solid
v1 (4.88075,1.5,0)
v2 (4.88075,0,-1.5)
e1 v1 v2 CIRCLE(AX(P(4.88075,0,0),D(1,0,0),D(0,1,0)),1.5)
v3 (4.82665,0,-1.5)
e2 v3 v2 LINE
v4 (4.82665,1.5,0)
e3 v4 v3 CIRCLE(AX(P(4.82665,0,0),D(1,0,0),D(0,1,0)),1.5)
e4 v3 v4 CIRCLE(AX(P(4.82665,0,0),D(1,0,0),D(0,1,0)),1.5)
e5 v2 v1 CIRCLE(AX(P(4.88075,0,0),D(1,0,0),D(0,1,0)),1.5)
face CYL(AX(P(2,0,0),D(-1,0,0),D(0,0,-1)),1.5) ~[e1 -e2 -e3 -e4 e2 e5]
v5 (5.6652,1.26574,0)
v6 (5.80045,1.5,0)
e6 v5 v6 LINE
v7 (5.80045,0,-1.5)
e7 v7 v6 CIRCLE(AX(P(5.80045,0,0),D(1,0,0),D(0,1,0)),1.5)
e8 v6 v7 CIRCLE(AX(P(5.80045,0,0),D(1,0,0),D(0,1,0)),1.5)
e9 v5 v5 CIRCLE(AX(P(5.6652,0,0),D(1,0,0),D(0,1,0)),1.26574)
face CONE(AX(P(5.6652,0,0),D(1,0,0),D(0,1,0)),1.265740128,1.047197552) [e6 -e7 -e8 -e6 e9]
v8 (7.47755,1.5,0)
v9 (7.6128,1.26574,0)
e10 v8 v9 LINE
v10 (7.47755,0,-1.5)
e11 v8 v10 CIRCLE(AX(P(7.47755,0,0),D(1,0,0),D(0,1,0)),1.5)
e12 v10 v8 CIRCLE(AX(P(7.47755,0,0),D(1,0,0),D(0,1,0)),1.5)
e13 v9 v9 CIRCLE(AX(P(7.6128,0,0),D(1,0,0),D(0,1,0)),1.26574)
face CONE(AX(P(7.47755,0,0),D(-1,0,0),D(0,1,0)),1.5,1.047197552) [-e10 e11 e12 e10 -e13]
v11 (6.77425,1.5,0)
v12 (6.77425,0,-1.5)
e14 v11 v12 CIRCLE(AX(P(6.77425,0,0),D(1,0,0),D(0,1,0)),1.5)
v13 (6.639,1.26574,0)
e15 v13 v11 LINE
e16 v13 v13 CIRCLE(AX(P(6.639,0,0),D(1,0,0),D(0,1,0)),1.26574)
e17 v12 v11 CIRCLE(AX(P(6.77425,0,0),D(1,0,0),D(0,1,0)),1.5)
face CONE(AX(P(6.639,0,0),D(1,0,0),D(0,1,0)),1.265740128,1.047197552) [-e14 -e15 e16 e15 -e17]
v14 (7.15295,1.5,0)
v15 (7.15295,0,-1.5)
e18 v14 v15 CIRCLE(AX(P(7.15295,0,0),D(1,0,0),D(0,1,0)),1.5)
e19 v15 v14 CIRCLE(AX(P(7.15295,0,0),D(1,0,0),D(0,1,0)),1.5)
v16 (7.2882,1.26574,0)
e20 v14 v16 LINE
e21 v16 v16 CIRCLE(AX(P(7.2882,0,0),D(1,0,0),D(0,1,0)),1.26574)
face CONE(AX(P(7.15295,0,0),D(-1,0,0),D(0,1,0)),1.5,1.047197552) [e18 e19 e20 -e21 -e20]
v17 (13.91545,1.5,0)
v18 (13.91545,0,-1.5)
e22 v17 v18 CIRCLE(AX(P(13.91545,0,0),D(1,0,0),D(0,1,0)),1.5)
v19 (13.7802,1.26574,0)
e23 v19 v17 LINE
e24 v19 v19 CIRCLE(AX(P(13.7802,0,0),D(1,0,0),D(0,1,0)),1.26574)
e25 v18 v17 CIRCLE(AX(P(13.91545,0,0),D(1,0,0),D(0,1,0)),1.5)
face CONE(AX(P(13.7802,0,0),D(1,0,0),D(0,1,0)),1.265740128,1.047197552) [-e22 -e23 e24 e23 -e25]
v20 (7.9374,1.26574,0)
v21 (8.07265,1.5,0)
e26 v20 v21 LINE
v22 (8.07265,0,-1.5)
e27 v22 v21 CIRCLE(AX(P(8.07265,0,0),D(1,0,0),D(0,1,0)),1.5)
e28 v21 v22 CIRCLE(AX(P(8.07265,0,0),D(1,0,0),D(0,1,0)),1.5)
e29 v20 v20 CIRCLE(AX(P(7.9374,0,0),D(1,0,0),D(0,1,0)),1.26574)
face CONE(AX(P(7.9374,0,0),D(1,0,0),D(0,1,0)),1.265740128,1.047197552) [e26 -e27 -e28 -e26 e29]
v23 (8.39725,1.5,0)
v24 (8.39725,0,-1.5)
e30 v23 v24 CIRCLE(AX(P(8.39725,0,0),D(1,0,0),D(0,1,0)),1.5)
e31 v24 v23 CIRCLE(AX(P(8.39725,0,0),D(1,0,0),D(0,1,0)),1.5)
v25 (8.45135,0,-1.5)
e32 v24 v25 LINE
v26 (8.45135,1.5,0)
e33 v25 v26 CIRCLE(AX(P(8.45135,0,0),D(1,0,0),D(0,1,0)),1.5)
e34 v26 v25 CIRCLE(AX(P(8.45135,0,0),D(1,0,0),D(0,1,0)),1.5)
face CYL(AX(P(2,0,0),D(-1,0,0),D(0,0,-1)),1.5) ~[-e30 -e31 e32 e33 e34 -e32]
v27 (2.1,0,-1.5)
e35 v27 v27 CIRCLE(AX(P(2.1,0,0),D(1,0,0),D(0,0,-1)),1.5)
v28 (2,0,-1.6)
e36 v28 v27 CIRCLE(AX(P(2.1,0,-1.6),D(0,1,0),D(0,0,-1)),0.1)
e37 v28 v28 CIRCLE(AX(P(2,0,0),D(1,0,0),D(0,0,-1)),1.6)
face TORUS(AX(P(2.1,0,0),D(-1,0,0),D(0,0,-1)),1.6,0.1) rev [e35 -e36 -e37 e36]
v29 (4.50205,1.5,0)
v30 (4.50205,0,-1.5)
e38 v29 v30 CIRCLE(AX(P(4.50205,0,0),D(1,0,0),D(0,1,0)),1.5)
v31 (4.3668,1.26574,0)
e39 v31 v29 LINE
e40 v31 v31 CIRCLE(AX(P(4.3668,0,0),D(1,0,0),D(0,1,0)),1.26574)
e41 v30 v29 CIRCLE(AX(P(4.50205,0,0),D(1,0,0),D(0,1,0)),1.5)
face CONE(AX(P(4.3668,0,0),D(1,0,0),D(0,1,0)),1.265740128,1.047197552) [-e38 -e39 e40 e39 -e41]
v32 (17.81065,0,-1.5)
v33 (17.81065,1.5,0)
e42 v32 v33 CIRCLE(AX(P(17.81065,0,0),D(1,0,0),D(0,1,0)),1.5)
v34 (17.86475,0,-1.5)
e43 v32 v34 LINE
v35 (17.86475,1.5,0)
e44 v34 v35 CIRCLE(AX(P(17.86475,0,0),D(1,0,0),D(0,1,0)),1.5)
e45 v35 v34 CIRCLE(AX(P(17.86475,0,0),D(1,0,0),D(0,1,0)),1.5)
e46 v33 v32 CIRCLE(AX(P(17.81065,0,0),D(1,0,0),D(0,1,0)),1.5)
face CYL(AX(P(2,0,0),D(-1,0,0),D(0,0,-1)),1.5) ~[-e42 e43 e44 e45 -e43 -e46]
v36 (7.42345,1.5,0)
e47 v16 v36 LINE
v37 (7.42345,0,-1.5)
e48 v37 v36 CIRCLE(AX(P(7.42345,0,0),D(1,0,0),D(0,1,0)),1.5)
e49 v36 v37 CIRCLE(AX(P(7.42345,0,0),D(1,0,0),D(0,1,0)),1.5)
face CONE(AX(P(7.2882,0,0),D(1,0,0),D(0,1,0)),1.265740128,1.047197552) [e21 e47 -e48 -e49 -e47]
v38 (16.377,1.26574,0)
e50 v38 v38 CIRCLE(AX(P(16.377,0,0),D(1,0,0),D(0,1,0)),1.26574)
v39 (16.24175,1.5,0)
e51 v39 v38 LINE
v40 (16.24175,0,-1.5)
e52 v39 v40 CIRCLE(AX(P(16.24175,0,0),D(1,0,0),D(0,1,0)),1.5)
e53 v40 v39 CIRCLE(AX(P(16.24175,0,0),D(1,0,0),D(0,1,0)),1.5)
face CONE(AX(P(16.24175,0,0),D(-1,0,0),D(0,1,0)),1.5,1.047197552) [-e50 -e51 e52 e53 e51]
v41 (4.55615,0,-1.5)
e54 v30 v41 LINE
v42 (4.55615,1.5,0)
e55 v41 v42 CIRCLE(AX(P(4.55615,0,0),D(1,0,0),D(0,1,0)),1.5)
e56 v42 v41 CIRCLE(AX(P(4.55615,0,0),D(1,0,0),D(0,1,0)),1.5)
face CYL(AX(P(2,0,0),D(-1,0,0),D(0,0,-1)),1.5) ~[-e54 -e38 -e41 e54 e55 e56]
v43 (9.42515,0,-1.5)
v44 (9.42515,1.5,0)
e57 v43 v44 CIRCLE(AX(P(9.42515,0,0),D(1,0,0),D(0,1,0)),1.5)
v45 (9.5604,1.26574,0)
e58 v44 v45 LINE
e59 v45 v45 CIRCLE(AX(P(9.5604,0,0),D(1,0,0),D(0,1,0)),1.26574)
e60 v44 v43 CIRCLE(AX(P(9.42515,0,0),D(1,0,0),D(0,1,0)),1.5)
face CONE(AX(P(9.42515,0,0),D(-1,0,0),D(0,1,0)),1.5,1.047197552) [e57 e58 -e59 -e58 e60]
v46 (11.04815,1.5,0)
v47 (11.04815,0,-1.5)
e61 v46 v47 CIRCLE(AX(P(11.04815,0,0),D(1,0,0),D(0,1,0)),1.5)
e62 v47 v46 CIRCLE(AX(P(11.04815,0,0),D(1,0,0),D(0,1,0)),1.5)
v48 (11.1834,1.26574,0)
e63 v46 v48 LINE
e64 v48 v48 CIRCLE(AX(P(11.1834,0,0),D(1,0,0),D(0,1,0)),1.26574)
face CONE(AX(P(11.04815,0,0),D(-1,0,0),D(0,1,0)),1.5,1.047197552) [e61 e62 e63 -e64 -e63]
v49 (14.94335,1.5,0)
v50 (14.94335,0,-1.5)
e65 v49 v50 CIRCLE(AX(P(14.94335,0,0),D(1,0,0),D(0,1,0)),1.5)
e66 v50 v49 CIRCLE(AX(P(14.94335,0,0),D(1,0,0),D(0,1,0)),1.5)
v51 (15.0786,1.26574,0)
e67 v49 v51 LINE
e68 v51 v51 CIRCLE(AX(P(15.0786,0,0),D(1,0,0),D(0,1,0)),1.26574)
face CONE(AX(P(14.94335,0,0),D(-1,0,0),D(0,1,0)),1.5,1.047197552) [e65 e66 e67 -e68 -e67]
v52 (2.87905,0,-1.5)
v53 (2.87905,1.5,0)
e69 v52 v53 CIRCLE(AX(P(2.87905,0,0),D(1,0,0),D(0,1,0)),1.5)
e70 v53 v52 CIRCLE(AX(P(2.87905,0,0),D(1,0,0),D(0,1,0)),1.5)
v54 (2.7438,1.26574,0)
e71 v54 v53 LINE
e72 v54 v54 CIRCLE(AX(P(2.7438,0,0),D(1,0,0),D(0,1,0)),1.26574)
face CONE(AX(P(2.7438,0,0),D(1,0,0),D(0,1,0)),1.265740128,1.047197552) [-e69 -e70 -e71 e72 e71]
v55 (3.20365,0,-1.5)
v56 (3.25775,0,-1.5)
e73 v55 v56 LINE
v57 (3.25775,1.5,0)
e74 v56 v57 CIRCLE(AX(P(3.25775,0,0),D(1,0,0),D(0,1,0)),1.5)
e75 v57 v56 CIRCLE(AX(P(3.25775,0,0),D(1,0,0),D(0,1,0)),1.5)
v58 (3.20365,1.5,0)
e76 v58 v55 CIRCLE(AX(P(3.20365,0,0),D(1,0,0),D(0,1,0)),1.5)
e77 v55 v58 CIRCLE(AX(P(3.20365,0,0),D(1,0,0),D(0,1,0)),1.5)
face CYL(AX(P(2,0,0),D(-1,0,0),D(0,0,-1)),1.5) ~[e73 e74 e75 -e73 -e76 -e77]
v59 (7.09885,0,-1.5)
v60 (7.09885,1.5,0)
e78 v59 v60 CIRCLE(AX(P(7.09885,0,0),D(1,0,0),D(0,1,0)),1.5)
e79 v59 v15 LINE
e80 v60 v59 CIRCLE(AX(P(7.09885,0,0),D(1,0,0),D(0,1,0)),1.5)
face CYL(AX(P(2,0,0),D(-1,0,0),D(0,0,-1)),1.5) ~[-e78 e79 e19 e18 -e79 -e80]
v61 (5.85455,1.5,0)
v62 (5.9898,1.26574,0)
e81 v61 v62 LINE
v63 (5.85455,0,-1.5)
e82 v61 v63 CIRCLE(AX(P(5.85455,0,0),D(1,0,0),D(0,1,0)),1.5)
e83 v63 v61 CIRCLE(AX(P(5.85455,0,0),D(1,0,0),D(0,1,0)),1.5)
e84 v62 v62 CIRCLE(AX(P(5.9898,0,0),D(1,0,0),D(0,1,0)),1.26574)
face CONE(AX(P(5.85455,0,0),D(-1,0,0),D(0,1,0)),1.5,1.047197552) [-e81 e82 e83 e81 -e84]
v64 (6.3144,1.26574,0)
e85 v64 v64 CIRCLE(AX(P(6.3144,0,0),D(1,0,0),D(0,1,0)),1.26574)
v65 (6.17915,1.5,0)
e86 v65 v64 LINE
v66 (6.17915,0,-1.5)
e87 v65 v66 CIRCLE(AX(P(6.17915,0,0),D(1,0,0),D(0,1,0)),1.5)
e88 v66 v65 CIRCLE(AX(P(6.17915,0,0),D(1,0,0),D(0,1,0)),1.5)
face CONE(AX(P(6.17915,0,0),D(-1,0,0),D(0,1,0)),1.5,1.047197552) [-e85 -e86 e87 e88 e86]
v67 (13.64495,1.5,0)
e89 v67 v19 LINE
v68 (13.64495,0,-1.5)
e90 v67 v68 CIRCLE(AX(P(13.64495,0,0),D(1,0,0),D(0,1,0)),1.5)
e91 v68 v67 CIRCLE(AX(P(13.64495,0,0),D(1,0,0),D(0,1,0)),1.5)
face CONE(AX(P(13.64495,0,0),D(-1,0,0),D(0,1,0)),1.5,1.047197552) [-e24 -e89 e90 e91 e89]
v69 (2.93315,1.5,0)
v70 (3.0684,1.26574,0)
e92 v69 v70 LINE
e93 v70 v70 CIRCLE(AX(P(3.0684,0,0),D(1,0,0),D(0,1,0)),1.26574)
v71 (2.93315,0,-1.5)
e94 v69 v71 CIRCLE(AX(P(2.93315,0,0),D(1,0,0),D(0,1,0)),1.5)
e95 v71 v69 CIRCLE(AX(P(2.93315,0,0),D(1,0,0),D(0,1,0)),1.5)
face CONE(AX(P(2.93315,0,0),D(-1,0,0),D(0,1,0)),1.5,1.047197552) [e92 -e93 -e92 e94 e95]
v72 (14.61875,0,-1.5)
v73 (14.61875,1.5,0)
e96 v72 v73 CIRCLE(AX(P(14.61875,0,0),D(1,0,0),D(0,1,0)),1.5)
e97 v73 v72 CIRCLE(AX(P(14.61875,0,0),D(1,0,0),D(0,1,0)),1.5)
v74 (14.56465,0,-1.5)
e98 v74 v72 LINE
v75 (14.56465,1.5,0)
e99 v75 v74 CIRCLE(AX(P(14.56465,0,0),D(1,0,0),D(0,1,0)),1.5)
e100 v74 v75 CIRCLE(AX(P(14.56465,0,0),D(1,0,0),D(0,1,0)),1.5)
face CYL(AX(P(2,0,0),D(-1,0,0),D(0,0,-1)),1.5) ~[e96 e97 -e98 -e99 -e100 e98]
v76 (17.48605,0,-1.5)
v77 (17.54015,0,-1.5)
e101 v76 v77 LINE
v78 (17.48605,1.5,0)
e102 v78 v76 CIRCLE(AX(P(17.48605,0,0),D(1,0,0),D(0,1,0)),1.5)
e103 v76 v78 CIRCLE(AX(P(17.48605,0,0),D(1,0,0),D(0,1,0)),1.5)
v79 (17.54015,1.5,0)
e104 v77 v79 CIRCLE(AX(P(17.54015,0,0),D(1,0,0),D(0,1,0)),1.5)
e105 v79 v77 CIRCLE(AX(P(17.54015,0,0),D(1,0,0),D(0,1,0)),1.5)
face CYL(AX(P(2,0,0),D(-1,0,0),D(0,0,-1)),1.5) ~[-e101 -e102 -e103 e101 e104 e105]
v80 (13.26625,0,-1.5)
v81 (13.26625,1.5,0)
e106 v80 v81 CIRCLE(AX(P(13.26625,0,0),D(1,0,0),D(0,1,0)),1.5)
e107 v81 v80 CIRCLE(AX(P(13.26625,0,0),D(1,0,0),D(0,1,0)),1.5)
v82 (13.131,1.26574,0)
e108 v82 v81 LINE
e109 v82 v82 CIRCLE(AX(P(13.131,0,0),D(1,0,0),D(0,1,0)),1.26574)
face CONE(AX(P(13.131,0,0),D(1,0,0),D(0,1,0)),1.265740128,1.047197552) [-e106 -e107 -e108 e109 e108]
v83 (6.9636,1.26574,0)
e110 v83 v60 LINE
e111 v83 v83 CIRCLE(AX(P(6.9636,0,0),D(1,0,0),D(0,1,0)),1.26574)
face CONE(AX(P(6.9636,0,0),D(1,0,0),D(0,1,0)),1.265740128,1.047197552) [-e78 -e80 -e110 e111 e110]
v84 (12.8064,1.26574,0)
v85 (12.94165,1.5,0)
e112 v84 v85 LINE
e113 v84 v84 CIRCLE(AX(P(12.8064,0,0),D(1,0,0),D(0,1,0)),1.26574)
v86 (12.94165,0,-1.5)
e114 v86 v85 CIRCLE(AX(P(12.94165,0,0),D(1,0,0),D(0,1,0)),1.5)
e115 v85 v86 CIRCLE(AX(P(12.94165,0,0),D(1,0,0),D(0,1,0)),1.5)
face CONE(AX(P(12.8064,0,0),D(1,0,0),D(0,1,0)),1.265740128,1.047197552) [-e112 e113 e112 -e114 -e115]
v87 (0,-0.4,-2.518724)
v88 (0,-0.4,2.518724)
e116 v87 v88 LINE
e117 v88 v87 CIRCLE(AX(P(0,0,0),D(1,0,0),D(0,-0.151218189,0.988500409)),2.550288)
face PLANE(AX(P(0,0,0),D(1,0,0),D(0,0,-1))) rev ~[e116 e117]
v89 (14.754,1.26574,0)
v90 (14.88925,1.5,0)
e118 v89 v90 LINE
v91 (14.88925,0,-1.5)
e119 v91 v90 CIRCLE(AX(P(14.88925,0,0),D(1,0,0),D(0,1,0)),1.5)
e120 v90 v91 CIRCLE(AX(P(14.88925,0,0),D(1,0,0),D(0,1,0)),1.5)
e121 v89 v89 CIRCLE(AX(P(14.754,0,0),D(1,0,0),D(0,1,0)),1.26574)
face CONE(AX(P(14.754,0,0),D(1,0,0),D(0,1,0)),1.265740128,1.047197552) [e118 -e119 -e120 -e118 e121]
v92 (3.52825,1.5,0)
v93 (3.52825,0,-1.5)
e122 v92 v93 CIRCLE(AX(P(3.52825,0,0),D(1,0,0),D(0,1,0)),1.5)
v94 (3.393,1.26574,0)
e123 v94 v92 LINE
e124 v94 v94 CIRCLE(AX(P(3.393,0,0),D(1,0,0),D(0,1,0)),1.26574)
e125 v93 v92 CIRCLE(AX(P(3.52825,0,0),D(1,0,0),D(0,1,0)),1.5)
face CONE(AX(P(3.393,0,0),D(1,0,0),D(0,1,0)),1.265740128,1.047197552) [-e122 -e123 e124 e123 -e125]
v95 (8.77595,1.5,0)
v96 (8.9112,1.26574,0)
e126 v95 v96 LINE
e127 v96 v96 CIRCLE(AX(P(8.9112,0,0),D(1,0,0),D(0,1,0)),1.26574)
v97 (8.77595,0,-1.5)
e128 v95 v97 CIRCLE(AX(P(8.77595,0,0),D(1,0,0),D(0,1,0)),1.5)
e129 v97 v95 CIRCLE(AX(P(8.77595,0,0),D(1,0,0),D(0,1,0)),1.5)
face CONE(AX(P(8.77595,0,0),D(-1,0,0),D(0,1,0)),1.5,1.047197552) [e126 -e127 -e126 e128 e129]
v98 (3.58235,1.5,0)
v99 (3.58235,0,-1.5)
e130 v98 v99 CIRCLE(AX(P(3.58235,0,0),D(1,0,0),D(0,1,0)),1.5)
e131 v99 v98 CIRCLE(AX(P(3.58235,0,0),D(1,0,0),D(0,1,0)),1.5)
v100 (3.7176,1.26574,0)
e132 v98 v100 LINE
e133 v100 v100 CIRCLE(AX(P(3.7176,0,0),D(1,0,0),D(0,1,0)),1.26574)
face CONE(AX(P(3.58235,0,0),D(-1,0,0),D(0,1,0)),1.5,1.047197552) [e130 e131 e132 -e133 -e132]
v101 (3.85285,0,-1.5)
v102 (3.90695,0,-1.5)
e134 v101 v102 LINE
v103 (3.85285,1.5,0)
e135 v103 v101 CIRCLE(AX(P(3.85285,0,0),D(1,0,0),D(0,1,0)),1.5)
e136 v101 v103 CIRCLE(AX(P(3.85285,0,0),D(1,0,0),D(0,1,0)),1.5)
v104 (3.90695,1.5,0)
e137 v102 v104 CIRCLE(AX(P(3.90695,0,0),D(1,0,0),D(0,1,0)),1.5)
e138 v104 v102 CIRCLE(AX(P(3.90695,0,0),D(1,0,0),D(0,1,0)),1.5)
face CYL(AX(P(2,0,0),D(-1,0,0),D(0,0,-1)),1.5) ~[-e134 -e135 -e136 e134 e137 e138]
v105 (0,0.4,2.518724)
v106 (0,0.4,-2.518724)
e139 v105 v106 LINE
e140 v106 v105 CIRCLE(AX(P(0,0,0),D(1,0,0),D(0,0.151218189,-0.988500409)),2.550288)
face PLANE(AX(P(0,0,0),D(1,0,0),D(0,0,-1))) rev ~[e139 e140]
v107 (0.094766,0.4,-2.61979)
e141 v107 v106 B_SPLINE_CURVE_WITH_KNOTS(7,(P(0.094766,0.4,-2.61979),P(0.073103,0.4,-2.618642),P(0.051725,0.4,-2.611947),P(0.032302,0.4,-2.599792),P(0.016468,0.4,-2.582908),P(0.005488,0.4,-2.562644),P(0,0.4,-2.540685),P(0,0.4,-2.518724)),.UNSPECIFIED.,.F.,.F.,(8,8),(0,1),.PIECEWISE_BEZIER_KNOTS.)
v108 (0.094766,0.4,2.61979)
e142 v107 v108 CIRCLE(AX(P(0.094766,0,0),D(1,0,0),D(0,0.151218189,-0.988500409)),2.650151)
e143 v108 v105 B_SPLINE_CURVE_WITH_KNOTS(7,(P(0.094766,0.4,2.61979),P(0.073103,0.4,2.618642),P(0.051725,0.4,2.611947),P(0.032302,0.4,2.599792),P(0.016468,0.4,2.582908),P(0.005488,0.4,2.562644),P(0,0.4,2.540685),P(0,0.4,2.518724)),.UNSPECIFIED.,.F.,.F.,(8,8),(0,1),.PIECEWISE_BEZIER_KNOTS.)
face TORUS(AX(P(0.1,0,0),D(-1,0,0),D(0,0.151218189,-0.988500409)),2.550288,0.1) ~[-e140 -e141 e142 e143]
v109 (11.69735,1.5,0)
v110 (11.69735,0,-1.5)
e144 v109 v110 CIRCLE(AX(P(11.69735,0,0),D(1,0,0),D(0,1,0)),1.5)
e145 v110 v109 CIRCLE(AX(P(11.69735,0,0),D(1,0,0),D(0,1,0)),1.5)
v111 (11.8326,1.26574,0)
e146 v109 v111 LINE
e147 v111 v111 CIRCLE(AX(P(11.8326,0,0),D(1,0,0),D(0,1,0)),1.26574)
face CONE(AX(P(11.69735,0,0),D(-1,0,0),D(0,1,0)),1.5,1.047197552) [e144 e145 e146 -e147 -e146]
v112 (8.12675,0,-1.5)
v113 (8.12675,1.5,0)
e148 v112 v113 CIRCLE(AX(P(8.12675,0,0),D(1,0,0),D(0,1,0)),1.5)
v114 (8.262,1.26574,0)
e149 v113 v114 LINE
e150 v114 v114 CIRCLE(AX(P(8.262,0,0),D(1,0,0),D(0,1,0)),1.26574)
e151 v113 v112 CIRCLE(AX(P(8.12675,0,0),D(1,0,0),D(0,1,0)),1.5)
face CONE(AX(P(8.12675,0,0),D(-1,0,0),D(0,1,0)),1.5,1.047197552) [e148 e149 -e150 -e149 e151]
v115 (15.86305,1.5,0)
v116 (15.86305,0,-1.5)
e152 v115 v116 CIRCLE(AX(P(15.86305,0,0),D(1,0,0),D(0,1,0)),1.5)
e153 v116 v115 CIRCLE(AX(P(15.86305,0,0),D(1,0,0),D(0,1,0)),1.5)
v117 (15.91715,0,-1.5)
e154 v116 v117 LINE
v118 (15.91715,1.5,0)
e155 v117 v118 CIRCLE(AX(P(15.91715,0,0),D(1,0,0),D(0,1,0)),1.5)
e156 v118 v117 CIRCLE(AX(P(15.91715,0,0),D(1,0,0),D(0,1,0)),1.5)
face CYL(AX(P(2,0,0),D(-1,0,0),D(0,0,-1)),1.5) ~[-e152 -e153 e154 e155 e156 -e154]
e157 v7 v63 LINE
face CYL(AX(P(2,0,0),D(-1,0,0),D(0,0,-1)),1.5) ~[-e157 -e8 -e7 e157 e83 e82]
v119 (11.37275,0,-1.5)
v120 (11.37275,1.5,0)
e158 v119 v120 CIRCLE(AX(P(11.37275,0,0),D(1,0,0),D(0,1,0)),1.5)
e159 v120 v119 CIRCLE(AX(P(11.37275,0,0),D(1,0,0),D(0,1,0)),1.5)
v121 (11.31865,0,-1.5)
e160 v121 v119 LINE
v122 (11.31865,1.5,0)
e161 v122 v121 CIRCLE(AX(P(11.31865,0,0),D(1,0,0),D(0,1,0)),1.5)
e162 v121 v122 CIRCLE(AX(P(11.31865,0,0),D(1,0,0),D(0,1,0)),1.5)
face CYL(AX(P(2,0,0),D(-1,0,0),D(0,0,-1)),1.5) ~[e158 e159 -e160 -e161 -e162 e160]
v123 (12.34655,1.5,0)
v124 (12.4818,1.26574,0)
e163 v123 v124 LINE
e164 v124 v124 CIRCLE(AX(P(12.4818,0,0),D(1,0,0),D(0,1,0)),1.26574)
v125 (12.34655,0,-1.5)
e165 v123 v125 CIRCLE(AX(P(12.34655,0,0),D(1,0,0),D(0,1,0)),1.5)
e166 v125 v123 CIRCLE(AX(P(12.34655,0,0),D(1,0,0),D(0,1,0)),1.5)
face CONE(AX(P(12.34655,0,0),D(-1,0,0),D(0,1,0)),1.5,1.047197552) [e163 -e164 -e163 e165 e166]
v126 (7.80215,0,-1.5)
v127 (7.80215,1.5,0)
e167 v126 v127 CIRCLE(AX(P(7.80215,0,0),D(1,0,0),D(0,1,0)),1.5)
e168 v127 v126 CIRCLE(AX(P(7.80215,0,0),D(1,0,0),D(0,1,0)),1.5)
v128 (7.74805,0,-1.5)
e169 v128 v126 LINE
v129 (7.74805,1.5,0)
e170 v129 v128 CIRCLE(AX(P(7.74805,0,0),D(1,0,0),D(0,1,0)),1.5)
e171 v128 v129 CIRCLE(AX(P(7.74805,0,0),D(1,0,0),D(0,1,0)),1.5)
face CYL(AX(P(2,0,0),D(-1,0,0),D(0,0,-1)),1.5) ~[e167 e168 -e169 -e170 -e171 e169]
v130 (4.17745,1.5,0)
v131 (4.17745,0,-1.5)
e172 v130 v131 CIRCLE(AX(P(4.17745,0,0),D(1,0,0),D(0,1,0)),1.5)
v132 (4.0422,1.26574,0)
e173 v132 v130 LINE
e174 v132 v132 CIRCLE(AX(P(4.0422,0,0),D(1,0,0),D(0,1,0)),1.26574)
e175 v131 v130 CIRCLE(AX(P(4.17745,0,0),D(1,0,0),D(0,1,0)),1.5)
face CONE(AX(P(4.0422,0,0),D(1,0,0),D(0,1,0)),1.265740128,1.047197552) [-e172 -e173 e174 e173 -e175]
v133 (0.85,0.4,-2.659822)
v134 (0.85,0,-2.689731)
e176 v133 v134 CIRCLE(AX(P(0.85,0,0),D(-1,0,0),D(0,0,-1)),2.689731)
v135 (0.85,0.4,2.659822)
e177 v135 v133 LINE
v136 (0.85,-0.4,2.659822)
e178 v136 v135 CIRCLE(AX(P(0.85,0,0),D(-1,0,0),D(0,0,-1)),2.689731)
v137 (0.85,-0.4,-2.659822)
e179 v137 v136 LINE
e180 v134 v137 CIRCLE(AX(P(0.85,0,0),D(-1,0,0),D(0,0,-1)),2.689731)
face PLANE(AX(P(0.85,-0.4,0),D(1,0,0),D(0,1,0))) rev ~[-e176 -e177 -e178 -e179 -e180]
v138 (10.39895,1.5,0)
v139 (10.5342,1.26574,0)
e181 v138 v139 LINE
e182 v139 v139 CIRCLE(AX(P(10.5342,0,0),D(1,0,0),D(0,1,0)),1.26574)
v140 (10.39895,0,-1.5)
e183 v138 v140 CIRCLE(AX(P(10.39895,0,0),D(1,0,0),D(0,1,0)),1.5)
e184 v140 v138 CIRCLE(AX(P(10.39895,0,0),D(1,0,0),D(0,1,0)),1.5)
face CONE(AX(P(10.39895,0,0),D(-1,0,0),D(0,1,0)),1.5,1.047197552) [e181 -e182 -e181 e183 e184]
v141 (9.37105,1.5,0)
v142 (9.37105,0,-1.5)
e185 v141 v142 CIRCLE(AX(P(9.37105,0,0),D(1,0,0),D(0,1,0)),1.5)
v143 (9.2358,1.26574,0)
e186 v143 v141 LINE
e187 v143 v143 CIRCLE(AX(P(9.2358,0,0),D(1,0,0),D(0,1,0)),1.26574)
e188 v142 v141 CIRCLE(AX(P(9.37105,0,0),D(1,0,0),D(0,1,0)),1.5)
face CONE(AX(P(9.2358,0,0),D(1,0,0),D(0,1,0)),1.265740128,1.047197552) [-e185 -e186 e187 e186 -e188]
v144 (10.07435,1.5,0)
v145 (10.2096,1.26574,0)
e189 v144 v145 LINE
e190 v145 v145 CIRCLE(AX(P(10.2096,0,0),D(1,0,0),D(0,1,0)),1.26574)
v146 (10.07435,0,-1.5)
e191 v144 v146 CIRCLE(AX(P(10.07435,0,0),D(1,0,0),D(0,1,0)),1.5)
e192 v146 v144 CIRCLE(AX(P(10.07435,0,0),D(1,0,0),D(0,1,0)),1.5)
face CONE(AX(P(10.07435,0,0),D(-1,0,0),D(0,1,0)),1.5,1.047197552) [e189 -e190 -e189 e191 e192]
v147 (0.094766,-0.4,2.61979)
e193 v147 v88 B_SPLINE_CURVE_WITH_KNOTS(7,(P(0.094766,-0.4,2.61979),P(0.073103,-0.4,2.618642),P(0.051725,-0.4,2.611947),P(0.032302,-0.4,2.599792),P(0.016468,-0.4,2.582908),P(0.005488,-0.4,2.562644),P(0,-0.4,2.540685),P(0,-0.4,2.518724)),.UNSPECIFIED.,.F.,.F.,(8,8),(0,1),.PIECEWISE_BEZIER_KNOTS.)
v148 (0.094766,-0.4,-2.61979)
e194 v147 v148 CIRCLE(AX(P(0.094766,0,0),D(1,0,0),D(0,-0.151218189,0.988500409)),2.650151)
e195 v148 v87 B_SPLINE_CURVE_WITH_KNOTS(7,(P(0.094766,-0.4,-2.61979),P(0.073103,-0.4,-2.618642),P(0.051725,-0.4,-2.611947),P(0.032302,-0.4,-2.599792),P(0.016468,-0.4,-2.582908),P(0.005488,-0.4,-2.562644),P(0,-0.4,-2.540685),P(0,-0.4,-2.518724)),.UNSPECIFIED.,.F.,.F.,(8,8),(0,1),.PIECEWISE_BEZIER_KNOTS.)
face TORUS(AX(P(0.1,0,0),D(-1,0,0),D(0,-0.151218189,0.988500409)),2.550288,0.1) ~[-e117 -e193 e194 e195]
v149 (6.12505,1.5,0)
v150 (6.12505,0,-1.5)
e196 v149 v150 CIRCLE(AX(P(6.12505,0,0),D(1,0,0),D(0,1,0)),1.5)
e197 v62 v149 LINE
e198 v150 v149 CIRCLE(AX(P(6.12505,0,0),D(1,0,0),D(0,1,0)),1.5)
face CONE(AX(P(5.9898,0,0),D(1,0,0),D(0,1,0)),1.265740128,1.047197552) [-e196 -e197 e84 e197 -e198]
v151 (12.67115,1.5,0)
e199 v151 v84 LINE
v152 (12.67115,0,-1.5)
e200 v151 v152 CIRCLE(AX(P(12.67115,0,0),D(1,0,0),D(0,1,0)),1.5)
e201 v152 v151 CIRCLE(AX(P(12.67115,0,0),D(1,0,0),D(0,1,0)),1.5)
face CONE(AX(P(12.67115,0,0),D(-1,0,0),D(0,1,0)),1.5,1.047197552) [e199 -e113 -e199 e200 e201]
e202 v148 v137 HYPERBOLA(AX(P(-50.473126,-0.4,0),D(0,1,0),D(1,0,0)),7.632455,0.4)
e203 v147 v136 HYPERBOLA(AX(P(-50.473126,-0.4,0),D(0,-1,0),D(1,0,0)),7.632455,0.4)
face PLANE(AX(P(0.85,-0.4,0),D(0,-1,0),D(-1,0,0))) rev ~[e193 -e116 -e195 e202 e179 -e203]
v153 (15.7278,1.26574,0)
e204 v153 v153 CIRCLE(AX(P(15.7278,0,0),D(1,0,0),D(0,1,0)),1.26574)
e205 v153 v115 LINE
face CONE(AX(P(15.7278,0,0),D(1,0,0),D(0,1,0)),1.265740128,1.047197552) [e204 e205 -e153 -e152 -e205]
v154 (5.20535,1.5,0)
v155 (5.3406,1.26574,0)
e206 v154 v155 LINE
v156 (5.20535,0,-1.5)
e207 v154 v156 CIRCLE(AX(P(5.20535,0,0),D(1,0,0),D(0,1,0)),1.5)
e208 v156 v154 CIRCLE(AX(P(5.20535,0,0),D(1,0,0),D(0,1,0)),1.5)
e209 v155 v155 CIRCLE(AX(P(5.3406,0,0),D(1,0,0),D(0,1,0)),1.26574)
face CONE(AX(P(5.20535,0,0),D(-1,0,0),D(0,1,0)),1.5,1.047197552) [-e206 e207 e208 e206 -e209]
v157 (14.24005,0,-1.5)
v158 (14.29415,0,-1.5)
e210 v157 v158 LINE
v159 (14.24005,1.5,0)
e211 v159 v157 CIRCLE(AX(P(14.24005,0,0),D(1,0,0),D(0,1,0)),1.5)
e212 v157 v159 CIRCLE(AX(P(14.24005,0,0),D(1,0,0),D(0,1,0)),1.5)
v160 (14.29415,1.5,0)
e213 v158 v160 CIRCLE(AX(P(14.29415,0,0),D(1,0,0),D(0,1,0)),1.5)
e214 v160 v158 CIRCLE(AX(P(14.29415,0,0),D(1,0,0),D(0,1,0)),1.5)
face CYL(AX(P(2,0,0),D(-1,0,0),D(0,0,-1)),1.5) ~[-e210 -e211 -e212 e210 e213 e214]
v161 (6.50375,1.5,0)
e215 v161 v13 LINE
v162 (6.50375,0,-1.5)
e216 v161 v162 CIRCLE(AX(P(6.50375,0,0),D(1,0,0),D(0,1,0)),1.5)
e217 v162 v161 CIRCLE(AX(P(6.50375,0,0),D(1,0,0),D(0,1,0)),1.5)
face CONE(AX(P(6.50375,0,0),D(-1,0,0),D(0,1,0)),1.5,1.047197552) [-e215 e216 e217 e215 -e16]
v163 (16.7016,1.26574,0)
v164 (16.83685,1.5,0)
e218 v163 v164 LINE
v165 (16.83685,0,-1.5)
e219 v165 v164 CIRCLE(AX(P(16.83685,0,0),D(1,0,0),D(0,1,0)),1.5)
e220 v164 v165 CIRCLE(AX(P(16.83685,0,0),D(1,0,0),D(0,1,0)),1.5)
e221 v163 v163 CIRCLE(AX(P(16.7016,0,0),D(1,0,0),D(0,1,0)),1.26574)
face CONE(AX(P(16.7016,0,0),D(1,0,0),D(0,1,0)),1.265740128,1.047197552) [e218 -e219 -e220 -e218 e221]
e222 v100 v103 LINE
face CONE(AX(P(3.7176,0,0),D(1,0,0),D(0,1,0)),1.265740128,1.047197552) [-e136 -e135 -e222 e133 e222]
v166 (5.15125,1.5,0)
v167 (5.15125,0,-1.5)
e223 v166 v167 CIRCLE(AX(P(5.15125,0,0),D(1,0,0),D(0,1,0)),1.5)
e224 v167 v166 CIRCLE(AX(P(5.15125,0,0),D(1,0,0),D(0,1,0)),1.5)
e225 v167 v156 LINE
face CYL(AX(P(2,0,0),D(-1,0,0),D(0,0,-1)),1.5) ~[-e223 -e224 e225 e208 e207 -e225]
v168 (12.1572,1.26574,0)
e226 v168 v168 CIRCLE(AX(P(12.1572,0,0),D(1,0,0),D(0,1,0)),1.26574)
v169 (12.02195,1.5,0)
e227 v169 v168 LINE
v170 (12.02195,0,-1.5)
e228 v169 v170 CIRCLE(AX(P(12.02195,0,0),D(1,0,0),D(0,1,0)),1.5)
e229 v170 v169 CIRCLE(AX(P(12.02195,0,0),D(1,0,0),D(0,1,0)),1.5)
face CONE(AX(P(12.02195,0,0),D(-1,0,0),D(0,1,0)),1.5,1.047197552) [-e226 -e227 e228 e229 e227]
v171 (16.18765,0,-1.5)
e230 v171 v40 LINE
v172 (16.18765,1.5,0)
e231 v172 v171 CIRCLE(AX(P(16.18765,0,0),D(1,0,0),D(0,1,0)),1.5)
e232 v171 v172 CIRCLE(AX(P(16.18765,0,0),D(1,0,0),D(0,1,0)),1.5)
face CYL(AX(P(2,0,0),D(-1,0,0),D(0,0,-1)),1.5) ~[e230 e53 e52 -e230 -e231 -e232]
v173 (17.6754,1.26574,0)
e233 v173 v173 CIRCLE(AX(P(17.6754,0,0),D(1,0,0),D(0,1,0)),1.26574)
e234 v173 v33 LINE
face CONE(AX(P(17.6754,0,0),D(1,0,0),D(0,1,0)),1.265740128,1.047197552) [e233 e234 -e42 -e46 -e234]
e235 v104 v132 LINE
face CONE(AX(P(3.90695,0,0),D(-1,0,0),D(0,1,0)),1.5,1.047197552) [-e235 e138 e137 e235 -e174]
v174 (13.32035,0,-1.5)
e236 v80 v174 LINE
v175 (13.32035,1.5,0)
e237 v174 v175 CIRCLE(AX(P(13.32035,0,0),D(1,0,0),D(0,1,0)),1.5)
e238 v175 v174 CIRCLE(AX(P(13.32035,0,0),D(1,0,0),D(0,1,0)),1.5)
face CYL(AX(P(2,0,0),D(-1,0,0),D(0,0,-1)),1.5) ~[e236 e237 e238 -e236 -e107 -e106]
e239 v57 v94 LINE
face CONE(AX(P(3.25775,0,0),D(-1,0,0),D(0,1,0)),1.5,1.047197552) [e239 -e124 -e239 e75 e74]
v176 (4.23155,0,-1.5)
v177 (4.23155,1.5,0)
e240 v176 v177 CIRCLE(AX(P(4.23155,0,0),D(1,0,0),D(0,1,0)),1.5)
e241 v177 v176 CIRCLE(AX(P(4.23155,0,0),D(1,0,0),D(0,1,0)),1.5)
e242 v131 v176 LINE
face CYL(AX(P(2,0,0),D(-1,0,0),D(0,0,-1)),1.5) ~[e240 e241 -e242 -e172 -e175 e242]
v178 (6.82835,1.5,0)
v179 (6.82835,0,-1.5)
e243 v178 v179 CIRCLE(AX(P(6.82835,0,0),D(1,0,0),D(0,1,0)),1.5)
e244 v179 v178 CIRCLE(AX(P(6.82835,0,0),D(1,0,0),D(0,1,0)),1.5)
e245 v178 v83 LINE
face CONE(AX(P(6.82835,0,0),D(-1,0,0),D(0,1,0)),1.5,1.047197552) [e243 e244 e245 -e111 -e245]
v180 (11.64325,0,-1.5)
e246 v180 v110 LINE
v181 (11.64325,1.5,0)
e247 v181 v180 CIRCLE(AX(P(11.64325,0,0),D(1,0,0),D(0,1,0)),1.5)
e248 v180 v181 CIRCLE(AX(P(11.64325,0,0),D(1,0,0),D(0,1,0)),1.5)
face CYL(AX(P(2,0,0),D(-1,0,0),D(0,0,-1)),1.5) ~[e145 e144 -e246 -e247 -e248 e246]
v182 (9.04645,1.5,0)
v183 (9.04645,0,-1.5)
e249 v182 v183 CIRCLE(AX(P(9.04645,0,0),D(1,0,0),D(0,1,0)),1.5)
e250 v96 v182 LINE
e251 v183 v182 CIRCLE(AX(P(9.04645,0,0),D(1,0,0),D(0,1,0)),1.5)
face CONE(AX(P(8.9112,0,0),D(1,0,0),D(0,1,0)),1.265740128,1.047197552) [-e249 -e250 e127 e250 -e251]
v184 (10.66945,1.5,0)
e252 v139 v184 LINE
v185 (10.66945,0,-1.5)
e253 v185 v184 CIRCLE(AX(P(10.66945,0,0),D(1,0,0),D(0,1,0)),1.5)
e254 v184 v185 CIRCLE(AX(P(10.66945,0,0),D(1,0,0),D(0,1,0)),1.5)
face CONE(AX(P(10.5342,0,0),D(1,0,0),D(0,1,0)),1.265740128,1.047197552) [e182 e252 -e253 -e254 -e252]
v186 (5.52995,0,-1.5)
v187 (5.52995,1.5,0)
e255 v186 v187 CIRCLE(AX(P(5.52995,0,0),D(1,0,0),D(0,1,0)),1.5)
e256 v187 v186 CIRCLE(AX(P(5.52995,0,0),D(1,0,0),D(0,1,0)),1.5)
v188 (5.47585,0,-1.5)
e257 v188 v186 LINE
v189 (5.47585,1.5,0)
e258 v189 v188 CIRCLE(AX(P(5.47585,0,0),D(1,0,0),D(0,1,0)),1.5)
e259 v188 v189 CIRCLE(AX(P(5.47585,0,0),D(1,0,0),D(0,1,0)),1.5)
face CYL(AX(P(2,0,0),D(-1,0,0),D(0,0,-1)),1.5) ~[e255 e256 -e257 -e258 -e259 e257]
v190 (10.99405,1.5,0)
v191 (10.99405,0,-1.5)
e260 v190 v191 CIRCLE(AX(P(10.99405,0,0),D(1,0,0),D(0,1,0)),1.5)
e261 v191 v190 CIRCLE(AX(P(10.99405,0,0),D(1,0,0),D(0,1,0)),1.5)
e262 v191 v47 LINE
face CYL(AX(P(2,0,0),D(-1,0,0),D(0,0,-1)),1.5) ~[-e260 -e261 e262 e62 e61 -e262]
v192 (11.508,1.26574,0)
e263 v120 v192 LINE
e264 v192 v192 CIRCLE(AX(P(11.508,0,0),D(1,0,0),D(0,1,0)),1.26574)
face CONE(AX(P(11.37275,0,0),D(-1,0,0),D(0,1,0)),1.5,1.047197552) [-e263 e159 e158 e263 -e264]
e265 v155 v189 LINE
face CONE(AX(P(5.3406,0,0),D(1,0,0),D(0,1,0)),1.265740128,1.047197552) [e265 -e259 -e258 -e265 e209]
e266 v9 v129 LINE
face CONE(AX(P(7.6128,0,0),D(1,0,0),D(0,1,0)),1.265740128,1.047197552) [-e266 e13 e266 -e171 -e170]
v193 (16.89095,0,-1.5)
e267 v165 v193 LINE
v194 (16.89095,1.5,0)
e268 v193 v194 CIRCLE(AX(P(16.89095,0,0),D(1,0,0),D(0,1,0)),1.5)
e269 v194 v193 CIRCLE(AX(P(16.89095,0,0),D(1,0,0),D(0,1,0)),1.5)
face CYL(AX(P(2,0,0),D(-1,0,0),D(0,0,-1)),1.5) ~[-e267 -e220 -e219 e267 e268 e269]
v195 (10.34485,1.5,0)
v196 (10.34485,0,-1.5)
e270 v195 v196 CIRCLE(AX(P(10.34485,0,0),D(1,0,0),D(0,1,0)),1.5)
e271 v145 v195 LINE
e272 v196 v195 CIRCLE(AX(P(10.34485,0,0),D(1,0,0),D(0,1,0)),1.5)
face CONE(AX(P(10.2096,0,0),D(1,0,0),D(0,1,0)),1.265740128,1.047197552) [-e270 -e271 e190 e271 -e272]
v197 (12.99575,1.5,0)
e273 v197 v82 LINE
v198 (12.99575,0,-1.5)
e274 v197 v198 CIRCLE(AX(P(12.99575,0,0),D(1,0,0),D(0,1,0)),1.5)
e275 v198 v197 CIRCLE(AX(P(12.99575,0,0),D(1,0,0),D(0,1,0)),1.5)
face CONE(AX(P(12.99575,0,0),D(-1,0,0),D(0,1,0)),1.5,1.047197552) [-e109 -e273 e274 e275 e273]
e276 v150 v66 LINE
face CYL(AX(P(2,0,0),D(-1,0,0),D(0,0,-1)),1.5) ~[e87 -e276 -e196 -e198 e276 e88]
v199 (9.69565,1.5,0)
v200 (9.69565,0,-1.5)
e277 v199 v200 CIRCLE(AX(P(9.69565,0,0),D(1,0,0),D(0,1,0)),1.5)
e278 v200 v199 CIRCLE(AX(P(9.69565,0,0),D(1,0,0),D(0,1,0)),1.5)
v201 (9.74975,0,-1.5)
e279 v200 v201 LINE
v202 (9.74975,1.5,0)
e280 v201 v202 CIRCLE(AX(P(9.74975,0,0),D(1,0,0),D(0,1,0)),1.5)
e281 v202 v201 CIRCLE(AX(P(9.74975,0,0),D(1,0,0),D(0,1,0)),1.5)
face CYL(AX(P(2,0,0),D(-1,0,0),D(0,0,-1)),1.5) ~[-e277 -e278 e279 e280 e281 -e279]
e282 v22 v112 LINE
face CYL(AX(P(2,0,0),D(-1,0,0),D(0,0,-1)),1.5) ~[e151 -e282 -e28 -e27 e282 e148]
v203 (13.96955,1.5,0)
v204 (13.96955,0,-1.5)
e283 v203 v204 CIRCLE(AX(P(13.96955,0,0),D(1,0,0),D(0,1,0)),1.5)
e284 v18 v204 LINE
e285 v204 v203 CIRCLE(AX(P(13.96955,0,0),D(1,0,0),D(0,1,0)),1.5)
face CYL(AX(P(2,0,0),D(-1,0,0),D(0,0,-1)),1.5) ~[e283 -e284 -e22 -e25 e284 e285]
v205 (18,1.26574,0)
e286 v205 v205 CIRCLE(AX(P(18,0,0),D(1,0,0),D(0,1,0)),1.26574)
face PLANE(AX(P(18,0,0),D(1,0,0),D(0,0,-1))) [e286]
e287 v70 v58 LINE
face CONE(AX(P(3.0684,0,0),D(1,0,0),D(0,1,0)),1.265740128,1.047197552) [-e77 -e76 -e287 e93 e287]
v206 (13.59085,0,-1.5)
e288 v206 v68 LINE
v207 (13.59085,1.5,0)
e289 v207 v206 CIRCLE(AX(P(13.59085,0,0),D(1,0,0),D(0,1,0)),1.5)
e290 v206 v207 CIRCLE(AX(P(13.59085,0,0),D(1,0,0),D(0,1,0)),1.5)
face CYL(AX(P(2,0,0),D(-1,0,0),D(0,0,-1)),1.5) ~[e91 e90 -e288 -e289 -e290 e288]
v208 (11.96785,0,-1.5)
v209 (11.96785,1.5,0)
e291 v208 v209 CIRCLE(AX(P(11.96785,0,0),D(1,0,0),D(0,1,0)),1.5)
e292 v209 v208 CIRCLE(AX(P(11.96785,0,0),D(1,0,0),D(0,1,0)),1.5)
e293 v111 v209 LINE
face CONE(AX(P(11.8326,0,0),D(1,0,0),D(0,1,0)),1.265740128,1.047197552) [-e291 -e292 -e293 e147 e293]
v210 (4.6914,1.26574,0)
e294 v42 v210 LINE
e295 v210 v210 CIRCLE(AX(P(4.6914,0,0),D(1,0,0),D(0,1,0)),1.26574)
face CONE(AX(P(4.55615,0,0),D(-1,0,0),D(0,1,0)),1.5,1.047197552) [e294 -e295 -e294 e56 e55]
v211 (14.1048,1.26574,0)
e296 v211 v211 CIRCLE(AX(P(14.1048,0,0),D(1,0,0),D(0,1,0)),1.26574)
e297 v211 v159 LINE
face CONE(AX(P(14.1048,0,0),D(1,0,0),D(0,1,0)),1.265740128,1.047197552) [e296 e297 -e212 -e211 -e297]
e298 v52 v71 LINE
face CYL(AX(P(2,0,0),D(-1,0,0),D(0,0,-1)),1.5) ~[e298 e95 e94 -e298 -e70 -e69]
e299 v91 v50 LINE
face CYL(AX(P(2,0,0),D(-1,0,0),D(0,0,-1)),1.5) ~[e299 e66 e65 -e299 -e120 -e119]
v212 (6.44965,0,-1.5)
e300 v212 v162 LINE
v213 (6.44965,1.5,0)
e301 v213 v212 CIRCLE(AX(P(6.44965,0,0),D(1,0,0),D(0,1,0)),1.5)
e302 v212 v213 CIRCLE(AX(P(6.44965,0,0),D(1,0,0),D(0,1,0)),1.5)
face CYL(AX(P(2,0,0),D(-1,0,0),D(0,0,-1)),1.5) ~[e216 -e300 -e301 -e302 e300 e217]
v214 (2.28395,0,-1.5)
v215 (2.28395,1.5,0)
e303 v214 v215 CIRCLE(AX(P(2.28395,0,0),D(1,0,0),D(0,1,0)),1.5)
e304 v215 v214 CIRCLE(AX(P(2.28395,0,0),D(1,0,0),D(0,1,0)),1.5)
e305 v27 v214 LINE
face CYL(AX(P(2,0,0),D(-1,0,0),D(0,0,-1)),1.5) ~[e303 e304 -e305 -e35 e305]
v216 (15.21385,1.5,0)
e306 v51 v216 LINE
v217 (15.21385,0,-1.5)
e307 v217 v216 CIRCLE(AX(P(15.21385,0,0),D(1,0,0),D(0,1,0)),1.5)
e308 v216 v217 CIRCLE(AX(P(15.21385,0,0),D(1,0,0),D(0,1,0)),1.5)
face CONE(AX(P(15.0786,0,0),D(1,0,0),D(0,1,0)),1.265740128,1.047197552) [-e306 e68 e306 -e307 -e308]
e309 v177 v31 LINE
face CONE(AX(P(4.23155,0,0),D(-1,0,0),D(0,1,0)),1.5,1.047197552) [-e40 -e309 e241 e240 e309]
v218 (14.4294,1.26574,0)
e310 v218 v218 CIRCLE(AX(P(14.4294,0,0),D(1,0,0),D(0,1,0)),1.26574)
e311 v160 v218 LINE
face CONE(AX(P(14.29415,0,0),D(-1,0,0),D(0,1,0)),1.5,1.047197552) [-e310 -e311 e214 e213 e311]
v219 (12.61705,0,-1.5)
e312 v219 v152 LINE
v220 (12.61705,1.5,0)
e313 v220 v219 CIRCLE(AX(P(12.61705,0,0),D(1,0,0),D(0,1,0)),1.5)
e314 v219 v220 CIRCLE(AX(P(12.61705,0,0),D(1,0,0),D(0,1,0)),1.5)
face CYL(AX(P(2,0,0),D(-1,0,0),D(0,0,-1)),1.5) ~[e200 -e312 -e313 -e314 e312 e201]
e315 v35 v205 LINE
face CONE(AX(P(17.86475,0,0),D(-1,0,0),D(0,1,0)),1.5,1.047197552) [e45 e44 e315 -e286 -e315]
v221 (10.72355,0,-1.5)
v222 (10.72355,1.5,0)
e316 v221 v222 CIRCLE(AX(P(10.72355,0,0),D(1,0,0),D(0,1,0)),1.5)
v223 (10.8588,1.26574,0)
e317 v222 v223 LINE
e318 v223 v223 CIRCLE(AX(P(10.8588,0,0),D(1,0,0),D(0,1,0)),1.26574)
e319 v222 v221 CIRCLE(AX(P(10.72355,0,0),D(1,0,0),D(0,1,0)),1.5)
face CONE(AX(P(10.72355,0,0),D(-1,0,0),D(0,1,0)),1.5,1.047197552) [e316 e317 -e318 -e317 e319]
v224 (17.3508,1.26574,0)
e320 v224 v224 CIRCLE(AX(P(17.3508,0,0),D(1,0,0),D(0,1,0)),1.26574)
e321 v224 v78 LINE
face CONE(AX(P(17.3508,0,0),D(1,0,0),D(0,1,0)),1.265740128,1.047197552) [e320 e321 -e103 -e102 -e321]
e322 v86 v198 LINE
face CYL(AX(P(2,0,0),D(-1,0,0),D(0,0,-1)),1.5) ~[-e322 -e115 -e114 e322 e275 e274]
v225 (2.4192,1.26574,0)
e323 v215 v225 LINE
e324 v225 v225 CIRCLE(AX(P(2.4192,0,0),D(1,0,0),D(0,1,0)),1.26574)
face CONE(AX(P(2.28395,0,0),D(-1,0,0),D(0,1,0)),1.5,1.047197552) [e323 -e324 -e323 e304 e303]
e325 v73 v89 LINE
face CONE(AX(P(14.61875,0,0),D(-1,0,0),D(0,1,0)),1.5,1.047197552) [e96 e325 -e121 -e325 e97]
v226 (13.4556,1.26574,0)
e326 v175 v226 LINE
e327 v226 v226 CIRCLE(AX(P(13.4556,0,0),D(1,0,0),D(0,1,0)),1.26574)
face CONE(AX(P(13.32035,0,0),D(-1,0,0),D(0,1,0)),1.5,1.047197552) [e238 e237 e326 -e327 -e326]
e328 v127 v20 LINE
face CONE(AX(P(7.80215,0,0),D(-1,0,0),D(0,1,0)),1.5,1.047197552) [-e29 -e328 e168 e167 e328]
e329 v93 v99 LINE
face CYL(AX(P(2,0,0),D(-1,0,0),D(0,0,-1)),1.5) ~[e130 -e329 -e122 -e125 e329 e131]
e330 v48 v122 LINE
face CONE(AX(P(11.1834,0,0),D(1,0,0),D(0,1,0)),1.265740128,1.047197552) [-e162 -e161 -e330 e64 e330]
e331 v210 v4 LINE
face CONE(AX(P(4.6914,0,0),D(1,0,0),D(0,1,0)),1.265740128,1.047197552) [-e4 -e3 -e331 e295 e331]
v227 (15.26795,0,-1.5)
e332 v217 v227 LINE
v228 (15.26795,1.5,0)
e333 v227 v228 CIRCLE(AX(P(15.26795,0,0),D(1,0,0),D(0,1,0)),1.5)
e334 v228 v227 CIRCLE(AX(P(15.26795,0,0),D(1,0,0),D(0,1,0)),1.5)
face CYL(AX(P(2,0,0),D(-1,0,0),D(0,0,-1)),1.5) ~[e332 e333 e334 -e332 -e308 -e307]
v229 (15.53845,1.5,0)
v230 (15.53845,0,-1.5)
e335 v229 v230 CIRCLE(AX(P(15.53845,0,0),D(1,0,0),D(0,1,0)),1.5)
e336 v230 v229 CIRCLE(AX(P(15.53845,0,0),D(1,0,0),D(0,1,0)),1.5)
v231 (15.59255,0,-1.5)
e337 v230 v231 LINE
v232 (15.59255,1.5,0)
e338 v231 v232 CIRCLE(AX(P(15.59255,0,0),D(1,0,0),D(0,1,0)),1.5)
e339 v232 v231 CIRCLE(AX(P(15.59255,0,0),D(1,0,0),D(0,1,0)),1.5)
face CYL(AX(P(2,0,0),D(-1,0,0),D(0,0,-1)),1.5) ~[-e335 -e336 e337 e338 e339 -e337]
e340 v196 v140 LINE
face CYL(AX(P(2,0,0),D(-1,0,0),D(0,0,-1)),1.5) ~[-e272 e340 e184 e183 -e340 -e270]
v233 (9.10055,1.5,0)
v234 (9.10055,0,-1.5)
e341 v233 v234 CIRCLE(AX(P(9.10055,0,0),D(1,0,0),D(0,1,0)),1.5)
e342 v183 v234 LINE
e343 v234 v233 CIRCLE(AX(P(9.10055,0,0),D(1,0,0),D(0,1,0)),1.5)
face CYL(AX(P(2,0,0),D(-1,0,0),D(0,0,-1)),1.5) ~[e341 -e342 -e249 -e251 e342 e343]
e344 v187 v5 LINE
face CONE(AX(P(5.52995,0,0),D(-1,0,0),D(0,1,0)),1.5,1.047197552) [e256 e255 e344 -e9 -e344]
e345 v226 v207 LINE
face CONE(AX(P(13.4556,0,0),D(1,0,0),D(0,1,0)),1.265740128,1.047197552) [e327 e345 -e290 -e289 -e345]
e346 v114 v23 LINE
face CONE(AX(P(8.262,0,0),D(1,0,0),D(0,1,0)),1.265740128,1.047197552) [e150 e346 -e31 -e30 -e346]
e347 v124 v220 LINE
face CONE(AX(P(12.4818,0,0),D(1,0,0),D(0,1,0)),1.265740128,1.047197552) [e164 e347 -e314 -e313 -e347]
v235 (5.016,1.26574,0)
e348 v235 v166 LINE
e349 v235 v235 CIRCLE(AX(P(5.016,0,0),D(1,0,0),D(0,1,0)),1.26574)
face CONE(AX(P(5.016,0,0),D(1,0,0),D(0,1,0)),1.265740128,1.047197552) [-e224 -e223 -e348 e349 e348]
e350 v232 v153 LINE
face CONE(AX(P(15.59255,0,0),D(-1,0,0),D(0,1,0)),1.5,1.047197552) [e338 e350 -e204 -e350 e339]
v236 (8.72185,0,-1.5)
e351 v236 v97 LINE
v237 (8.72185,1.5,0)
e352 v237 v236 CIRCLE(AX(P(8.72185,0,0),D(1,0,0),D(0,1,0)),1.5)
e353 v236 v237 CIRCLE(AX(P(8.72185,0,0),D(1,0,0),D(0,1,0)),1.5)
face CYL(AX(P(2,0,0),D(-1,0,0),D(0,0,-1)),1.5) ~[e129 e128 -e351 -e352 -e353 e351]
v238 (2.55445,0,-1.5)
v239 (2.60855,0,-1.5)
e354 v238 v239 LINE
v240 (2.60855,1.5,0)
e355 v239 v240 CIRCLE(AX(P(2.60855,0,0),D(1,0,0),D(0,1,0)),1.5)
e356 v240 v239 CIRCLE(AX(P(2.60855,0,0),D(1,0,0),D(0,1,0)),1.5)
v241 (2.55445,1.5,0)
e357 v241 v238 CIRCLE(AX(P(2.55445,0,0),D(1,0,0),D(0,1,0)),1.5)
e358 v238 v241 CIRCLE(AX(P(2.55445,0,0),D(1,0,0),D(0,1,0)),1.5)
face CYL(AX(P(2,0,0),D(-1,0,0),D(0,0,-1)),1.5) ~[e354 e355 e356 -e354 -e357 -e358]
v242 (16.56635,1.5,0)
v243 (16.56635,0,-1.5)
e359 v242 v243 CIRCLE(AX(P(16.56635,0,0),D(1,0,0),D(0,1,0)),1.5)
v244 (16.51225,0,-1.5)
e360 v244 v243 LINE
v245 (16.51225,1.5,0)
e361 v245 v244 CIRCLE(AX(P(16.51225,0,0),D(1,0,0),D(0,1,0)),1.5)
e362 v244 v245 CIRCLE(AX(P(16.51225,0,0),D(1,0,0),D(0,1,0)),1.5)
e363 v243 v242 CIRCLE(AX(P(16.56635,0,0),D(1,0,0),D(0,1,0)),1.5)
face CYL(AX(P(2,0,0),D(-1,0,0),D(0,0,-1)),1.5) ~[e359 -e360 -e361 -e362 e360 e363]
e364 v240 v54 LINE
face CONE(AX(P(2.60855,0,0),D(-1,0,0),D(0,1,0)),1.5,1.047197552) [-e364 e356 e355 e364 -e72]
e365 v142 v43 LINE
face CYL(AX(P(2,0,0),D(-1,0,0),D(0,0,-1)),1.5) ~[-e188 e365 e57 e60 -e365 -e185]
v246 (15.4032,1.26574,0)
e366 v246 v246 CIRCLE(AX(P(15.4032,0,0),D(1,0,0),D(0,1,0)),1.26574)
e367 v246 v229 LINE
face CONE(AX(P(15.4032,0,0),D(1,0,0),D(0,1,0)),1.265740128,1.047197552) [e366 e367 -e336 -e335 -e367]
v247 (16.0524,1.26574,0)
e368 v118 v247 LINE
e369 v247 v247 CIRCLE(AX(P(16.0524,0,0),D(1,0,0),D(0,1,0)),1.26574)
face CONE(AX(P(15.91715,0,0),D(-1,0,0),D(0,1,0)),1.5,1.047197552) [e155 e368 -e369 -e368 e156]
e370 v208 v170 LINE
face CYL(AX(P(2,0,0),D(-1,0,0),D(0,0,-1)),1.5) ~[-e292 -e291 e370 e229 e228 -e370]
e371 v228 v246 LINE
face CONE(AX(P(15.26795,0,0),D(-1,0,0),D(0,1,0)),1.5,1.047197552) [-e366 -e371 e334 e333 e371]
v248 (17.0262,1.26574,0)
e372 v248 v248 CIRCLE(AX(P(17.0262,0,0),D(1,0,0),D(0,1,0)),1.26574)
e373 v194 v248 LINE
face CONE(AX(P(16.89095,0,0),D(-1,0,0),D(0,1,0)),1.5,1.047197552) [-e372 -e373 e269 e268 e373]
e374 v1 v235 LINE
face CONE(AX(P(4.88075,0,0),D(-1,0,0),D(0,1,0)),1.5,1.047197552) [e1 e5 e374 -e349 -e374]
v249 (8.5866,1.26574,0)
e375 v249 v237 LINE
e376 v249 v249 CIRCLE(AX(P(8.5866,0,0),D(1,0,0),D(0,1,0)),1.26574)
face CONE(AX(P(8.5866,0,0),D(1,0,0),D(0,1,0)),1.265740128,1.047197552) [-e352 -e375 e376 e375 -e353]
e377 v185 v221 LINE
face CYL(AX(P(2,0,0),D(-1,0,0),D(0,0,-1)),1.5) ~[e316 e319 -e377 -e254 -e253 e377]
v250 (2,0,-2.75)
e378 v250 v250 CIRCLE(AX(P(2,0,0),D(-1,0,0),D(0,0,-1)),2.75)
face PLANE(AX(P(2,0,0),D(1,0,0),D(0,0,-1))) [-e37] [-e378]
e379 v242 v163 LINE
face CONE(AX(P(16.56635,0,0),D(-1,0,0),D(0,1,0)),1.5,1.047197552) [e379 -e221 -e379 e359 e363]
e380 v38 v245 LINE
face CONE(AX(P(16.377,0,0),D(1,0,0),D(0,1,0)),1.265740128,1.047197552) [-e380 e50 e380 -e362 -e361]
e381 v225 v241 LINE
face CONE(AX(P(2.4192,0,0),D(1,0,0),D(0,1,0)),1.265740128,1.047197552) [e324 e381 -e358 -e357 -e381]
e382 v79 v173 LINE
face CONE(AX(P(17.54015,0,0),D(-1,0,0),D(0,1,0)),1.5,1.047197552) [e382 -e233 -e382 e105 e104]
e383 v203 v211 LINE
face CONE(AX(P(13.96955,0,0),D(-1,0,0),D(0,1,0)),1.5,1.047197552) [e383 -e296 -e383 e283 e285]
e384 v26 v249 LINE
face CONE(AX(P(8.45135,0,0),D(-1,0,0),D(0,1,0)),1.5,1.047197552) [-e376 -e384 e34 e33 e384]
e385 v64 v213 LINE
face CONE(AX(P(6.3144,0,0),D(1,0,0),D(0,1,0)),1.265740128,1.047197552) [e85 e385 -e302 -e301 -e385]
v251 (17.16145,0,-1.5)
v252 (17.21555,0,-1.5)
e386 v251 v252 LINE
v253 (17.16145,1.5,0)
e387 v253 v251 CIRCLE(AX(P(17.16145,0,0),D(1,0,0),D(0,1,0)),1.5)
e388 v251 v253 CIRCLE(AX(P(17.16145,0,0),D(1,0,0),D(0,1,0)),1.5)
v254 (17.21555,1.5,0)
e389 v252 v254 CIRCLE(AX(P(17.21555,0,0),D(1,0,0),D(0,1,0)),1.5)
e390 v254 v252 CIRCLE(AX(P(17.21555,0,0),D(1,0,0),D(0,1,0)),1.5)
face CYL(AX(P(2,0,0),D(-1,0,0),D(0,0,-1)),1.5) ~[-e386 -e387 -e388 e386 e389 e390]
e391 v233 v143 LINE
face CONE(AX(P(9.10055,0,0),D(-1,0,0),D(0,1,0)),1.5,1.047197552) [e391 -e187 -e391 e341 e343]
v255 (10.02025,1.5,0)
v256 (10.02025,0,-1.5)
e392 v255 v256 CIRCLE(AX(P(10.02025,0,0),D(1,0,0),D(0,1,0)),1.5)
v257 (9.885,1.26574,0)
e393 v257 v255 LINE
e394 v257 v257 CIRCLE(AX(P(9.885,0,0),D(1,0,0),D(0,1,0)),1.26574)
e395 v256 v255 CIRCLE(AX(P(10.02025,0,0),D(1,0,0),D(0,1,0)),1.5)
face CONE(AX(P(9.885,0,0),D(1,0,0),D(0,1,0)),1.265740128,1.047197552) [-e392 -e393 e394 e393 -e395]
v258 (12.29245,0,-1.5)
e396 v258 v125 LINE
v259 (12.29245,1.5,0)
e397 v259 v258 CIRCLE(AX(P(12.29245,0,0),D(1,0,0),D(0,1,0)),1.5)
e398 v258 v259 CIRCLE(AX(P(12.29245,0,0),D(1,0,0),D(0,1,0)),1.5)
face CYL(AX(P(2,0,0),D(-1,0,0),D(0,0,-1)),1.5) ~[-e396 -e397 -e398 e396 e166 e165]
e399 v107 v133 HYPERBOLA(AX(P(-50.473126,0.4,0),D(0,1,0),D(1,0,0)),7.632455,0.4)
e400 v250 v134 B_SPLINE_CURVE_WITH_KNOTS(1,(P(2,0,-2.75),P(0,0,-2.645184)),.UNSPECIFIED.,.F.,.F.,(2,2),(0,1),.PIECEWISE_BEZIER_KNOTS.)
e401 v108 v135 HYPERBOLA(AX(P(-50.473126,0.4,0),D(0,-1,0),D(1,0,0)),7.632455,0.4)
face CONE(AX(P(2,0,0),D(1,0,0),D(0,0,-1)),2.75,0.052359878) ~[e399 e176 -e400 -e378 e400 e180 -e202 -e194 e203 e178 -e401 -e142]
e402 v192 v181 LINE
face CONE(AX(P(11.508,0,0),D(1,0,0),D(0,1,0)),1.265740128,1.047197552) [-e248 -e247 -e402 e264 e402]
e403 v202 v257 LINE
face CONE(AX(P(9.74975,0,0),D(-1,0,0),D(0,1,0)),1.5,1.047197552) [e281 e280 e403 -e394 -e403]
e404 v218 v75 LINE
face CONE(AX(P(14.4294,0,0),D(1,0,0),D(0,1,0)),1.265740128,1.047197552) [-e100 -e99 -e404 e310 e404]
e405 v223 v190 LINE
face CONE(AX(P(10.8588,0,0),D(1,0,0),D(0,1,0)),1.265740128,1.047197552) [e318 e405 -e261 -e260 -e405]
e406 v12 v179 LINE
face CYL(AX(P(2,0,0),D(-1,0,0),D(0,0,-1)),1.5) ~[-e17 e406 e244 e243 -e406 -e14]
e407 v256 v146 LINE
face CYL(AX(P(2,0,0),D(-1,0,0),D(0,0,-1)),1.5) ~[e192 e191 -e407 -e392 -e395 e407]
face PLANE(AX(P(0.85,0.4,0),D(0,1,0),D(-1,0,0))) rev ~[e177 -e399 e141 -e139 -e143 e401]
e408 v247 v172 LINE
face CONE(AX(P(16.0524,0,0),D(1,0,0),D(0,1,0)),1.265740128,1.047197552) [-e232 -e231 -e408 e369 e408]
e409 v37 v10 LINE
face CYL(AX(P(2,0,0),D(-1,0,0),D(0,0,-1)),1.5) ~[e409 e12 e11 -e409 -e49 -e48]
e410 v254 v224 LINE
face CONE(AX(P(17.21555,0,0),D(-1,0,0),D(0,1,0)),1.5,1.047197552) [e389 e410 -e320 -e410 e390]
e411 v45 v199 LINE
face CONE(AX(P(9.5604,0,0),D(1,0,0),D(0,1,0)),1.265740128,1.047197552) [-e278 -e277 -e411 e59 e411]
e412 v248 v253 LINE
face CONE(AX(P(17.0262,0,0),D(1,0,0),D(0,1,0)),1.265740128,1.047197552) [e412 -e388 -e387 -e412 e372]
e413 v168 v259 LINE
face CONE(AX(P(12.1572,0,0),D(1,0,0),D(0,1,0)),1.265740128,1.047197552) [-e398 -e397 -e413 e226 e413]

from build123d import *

# Parameters (mm, degrees)
SKETCH2_R        = 2.75
BASEHEAD_DEPTH   = 2
BASEHEAD_TAPER   = 3
SKETCH3_R        = 1.5
BASEBODY_DEPTH   = 16
SKETCH4_W        = 0.8
SKETCH4_H        = 0.85
SLOT_DEPTH       = 3.7500001
SLOT_DEPTH_BACK  = 3.7500001
HEADFILLET_R     = 0.1
LPATTERN10_COUNT = 49
LPATTERN10_PITCH = 0.3246


with BuildPart() as part:
    # Sketch2 → BaseHead (new body)
    with BuildSketch(Plane(origin=(2, 0, 0), x_dir=(0, 0, -1), z_dir=(1, 0, 0))):
        Circle(SKETCH2_R)
    extrude(amount=-BASEHEAD_DEPTH, taper=BASEHEAD_TAPER)

    # Sketch3 → BaseBody (add)
    with BuildSketch(Plane(origin=(2, -1.110095321, -1.354392991), x_dir=(0, 0, -1), z_dir=(1, 0, 0))):
        with Locations((-1.354392991, 1.110095321)):
            Circle(SKETCH3_R)
    extrude(amount=BASEBODY_DEPTH)

    # Sketch4 → Slot (cut, two sides)
    with BuildSketch(Plane(origin=(-1.9, -1.9, 0), x_dir=(0, 1, 0), z_dir=(0, 0, 1))) as slot_sk:
        with Locations((1.9, -2.325)):
            Rectangle(SKETCH4_W, SKETCH4_H)
    extrude(amount=SLOT_DEPTH, mode=Mode.SUBTRACT)
    extrude(slot_sk.sketch, amount=-SLOT_DEPTH_BACK, mode=Mode.SUBTRACT)

    # HeadFillet
    headfillet_edges = [part.edges().sort_by_distance(p)[0] for p in [
        (2, 0, 1.5),
        (0, -2.645184441, 0),
        (0, 2.645184441, 0),
    ]]
    fillet(headfillet_edges, radius=HEADFILLET_R)

    # Sketch5 → Cut-Revolve10 (revolve, cut)
    with BuildSketch(Plane.XY):
        Polygon((18.13525, 1.5), (18.13525, 1.7705), (17.86475, 1.7705), (17.86475, 1.5), (18, 1.265740128), align=None)
    cut_revolve10 = revolve(axis=Axis((0, 0, 0), (1, 0, 0)), mode=Mode.SUBTRACT)

    # LPattern10: Cut-Revolve10 ×49
    with Locations(*[(-i * LPATTERN10_PITCH, 0, 0) for i in range(1, LPATTERN10_COUNT)]):
        add(cut_revolve10, mode=Mode.SUBTRACT)


solid = part.part
